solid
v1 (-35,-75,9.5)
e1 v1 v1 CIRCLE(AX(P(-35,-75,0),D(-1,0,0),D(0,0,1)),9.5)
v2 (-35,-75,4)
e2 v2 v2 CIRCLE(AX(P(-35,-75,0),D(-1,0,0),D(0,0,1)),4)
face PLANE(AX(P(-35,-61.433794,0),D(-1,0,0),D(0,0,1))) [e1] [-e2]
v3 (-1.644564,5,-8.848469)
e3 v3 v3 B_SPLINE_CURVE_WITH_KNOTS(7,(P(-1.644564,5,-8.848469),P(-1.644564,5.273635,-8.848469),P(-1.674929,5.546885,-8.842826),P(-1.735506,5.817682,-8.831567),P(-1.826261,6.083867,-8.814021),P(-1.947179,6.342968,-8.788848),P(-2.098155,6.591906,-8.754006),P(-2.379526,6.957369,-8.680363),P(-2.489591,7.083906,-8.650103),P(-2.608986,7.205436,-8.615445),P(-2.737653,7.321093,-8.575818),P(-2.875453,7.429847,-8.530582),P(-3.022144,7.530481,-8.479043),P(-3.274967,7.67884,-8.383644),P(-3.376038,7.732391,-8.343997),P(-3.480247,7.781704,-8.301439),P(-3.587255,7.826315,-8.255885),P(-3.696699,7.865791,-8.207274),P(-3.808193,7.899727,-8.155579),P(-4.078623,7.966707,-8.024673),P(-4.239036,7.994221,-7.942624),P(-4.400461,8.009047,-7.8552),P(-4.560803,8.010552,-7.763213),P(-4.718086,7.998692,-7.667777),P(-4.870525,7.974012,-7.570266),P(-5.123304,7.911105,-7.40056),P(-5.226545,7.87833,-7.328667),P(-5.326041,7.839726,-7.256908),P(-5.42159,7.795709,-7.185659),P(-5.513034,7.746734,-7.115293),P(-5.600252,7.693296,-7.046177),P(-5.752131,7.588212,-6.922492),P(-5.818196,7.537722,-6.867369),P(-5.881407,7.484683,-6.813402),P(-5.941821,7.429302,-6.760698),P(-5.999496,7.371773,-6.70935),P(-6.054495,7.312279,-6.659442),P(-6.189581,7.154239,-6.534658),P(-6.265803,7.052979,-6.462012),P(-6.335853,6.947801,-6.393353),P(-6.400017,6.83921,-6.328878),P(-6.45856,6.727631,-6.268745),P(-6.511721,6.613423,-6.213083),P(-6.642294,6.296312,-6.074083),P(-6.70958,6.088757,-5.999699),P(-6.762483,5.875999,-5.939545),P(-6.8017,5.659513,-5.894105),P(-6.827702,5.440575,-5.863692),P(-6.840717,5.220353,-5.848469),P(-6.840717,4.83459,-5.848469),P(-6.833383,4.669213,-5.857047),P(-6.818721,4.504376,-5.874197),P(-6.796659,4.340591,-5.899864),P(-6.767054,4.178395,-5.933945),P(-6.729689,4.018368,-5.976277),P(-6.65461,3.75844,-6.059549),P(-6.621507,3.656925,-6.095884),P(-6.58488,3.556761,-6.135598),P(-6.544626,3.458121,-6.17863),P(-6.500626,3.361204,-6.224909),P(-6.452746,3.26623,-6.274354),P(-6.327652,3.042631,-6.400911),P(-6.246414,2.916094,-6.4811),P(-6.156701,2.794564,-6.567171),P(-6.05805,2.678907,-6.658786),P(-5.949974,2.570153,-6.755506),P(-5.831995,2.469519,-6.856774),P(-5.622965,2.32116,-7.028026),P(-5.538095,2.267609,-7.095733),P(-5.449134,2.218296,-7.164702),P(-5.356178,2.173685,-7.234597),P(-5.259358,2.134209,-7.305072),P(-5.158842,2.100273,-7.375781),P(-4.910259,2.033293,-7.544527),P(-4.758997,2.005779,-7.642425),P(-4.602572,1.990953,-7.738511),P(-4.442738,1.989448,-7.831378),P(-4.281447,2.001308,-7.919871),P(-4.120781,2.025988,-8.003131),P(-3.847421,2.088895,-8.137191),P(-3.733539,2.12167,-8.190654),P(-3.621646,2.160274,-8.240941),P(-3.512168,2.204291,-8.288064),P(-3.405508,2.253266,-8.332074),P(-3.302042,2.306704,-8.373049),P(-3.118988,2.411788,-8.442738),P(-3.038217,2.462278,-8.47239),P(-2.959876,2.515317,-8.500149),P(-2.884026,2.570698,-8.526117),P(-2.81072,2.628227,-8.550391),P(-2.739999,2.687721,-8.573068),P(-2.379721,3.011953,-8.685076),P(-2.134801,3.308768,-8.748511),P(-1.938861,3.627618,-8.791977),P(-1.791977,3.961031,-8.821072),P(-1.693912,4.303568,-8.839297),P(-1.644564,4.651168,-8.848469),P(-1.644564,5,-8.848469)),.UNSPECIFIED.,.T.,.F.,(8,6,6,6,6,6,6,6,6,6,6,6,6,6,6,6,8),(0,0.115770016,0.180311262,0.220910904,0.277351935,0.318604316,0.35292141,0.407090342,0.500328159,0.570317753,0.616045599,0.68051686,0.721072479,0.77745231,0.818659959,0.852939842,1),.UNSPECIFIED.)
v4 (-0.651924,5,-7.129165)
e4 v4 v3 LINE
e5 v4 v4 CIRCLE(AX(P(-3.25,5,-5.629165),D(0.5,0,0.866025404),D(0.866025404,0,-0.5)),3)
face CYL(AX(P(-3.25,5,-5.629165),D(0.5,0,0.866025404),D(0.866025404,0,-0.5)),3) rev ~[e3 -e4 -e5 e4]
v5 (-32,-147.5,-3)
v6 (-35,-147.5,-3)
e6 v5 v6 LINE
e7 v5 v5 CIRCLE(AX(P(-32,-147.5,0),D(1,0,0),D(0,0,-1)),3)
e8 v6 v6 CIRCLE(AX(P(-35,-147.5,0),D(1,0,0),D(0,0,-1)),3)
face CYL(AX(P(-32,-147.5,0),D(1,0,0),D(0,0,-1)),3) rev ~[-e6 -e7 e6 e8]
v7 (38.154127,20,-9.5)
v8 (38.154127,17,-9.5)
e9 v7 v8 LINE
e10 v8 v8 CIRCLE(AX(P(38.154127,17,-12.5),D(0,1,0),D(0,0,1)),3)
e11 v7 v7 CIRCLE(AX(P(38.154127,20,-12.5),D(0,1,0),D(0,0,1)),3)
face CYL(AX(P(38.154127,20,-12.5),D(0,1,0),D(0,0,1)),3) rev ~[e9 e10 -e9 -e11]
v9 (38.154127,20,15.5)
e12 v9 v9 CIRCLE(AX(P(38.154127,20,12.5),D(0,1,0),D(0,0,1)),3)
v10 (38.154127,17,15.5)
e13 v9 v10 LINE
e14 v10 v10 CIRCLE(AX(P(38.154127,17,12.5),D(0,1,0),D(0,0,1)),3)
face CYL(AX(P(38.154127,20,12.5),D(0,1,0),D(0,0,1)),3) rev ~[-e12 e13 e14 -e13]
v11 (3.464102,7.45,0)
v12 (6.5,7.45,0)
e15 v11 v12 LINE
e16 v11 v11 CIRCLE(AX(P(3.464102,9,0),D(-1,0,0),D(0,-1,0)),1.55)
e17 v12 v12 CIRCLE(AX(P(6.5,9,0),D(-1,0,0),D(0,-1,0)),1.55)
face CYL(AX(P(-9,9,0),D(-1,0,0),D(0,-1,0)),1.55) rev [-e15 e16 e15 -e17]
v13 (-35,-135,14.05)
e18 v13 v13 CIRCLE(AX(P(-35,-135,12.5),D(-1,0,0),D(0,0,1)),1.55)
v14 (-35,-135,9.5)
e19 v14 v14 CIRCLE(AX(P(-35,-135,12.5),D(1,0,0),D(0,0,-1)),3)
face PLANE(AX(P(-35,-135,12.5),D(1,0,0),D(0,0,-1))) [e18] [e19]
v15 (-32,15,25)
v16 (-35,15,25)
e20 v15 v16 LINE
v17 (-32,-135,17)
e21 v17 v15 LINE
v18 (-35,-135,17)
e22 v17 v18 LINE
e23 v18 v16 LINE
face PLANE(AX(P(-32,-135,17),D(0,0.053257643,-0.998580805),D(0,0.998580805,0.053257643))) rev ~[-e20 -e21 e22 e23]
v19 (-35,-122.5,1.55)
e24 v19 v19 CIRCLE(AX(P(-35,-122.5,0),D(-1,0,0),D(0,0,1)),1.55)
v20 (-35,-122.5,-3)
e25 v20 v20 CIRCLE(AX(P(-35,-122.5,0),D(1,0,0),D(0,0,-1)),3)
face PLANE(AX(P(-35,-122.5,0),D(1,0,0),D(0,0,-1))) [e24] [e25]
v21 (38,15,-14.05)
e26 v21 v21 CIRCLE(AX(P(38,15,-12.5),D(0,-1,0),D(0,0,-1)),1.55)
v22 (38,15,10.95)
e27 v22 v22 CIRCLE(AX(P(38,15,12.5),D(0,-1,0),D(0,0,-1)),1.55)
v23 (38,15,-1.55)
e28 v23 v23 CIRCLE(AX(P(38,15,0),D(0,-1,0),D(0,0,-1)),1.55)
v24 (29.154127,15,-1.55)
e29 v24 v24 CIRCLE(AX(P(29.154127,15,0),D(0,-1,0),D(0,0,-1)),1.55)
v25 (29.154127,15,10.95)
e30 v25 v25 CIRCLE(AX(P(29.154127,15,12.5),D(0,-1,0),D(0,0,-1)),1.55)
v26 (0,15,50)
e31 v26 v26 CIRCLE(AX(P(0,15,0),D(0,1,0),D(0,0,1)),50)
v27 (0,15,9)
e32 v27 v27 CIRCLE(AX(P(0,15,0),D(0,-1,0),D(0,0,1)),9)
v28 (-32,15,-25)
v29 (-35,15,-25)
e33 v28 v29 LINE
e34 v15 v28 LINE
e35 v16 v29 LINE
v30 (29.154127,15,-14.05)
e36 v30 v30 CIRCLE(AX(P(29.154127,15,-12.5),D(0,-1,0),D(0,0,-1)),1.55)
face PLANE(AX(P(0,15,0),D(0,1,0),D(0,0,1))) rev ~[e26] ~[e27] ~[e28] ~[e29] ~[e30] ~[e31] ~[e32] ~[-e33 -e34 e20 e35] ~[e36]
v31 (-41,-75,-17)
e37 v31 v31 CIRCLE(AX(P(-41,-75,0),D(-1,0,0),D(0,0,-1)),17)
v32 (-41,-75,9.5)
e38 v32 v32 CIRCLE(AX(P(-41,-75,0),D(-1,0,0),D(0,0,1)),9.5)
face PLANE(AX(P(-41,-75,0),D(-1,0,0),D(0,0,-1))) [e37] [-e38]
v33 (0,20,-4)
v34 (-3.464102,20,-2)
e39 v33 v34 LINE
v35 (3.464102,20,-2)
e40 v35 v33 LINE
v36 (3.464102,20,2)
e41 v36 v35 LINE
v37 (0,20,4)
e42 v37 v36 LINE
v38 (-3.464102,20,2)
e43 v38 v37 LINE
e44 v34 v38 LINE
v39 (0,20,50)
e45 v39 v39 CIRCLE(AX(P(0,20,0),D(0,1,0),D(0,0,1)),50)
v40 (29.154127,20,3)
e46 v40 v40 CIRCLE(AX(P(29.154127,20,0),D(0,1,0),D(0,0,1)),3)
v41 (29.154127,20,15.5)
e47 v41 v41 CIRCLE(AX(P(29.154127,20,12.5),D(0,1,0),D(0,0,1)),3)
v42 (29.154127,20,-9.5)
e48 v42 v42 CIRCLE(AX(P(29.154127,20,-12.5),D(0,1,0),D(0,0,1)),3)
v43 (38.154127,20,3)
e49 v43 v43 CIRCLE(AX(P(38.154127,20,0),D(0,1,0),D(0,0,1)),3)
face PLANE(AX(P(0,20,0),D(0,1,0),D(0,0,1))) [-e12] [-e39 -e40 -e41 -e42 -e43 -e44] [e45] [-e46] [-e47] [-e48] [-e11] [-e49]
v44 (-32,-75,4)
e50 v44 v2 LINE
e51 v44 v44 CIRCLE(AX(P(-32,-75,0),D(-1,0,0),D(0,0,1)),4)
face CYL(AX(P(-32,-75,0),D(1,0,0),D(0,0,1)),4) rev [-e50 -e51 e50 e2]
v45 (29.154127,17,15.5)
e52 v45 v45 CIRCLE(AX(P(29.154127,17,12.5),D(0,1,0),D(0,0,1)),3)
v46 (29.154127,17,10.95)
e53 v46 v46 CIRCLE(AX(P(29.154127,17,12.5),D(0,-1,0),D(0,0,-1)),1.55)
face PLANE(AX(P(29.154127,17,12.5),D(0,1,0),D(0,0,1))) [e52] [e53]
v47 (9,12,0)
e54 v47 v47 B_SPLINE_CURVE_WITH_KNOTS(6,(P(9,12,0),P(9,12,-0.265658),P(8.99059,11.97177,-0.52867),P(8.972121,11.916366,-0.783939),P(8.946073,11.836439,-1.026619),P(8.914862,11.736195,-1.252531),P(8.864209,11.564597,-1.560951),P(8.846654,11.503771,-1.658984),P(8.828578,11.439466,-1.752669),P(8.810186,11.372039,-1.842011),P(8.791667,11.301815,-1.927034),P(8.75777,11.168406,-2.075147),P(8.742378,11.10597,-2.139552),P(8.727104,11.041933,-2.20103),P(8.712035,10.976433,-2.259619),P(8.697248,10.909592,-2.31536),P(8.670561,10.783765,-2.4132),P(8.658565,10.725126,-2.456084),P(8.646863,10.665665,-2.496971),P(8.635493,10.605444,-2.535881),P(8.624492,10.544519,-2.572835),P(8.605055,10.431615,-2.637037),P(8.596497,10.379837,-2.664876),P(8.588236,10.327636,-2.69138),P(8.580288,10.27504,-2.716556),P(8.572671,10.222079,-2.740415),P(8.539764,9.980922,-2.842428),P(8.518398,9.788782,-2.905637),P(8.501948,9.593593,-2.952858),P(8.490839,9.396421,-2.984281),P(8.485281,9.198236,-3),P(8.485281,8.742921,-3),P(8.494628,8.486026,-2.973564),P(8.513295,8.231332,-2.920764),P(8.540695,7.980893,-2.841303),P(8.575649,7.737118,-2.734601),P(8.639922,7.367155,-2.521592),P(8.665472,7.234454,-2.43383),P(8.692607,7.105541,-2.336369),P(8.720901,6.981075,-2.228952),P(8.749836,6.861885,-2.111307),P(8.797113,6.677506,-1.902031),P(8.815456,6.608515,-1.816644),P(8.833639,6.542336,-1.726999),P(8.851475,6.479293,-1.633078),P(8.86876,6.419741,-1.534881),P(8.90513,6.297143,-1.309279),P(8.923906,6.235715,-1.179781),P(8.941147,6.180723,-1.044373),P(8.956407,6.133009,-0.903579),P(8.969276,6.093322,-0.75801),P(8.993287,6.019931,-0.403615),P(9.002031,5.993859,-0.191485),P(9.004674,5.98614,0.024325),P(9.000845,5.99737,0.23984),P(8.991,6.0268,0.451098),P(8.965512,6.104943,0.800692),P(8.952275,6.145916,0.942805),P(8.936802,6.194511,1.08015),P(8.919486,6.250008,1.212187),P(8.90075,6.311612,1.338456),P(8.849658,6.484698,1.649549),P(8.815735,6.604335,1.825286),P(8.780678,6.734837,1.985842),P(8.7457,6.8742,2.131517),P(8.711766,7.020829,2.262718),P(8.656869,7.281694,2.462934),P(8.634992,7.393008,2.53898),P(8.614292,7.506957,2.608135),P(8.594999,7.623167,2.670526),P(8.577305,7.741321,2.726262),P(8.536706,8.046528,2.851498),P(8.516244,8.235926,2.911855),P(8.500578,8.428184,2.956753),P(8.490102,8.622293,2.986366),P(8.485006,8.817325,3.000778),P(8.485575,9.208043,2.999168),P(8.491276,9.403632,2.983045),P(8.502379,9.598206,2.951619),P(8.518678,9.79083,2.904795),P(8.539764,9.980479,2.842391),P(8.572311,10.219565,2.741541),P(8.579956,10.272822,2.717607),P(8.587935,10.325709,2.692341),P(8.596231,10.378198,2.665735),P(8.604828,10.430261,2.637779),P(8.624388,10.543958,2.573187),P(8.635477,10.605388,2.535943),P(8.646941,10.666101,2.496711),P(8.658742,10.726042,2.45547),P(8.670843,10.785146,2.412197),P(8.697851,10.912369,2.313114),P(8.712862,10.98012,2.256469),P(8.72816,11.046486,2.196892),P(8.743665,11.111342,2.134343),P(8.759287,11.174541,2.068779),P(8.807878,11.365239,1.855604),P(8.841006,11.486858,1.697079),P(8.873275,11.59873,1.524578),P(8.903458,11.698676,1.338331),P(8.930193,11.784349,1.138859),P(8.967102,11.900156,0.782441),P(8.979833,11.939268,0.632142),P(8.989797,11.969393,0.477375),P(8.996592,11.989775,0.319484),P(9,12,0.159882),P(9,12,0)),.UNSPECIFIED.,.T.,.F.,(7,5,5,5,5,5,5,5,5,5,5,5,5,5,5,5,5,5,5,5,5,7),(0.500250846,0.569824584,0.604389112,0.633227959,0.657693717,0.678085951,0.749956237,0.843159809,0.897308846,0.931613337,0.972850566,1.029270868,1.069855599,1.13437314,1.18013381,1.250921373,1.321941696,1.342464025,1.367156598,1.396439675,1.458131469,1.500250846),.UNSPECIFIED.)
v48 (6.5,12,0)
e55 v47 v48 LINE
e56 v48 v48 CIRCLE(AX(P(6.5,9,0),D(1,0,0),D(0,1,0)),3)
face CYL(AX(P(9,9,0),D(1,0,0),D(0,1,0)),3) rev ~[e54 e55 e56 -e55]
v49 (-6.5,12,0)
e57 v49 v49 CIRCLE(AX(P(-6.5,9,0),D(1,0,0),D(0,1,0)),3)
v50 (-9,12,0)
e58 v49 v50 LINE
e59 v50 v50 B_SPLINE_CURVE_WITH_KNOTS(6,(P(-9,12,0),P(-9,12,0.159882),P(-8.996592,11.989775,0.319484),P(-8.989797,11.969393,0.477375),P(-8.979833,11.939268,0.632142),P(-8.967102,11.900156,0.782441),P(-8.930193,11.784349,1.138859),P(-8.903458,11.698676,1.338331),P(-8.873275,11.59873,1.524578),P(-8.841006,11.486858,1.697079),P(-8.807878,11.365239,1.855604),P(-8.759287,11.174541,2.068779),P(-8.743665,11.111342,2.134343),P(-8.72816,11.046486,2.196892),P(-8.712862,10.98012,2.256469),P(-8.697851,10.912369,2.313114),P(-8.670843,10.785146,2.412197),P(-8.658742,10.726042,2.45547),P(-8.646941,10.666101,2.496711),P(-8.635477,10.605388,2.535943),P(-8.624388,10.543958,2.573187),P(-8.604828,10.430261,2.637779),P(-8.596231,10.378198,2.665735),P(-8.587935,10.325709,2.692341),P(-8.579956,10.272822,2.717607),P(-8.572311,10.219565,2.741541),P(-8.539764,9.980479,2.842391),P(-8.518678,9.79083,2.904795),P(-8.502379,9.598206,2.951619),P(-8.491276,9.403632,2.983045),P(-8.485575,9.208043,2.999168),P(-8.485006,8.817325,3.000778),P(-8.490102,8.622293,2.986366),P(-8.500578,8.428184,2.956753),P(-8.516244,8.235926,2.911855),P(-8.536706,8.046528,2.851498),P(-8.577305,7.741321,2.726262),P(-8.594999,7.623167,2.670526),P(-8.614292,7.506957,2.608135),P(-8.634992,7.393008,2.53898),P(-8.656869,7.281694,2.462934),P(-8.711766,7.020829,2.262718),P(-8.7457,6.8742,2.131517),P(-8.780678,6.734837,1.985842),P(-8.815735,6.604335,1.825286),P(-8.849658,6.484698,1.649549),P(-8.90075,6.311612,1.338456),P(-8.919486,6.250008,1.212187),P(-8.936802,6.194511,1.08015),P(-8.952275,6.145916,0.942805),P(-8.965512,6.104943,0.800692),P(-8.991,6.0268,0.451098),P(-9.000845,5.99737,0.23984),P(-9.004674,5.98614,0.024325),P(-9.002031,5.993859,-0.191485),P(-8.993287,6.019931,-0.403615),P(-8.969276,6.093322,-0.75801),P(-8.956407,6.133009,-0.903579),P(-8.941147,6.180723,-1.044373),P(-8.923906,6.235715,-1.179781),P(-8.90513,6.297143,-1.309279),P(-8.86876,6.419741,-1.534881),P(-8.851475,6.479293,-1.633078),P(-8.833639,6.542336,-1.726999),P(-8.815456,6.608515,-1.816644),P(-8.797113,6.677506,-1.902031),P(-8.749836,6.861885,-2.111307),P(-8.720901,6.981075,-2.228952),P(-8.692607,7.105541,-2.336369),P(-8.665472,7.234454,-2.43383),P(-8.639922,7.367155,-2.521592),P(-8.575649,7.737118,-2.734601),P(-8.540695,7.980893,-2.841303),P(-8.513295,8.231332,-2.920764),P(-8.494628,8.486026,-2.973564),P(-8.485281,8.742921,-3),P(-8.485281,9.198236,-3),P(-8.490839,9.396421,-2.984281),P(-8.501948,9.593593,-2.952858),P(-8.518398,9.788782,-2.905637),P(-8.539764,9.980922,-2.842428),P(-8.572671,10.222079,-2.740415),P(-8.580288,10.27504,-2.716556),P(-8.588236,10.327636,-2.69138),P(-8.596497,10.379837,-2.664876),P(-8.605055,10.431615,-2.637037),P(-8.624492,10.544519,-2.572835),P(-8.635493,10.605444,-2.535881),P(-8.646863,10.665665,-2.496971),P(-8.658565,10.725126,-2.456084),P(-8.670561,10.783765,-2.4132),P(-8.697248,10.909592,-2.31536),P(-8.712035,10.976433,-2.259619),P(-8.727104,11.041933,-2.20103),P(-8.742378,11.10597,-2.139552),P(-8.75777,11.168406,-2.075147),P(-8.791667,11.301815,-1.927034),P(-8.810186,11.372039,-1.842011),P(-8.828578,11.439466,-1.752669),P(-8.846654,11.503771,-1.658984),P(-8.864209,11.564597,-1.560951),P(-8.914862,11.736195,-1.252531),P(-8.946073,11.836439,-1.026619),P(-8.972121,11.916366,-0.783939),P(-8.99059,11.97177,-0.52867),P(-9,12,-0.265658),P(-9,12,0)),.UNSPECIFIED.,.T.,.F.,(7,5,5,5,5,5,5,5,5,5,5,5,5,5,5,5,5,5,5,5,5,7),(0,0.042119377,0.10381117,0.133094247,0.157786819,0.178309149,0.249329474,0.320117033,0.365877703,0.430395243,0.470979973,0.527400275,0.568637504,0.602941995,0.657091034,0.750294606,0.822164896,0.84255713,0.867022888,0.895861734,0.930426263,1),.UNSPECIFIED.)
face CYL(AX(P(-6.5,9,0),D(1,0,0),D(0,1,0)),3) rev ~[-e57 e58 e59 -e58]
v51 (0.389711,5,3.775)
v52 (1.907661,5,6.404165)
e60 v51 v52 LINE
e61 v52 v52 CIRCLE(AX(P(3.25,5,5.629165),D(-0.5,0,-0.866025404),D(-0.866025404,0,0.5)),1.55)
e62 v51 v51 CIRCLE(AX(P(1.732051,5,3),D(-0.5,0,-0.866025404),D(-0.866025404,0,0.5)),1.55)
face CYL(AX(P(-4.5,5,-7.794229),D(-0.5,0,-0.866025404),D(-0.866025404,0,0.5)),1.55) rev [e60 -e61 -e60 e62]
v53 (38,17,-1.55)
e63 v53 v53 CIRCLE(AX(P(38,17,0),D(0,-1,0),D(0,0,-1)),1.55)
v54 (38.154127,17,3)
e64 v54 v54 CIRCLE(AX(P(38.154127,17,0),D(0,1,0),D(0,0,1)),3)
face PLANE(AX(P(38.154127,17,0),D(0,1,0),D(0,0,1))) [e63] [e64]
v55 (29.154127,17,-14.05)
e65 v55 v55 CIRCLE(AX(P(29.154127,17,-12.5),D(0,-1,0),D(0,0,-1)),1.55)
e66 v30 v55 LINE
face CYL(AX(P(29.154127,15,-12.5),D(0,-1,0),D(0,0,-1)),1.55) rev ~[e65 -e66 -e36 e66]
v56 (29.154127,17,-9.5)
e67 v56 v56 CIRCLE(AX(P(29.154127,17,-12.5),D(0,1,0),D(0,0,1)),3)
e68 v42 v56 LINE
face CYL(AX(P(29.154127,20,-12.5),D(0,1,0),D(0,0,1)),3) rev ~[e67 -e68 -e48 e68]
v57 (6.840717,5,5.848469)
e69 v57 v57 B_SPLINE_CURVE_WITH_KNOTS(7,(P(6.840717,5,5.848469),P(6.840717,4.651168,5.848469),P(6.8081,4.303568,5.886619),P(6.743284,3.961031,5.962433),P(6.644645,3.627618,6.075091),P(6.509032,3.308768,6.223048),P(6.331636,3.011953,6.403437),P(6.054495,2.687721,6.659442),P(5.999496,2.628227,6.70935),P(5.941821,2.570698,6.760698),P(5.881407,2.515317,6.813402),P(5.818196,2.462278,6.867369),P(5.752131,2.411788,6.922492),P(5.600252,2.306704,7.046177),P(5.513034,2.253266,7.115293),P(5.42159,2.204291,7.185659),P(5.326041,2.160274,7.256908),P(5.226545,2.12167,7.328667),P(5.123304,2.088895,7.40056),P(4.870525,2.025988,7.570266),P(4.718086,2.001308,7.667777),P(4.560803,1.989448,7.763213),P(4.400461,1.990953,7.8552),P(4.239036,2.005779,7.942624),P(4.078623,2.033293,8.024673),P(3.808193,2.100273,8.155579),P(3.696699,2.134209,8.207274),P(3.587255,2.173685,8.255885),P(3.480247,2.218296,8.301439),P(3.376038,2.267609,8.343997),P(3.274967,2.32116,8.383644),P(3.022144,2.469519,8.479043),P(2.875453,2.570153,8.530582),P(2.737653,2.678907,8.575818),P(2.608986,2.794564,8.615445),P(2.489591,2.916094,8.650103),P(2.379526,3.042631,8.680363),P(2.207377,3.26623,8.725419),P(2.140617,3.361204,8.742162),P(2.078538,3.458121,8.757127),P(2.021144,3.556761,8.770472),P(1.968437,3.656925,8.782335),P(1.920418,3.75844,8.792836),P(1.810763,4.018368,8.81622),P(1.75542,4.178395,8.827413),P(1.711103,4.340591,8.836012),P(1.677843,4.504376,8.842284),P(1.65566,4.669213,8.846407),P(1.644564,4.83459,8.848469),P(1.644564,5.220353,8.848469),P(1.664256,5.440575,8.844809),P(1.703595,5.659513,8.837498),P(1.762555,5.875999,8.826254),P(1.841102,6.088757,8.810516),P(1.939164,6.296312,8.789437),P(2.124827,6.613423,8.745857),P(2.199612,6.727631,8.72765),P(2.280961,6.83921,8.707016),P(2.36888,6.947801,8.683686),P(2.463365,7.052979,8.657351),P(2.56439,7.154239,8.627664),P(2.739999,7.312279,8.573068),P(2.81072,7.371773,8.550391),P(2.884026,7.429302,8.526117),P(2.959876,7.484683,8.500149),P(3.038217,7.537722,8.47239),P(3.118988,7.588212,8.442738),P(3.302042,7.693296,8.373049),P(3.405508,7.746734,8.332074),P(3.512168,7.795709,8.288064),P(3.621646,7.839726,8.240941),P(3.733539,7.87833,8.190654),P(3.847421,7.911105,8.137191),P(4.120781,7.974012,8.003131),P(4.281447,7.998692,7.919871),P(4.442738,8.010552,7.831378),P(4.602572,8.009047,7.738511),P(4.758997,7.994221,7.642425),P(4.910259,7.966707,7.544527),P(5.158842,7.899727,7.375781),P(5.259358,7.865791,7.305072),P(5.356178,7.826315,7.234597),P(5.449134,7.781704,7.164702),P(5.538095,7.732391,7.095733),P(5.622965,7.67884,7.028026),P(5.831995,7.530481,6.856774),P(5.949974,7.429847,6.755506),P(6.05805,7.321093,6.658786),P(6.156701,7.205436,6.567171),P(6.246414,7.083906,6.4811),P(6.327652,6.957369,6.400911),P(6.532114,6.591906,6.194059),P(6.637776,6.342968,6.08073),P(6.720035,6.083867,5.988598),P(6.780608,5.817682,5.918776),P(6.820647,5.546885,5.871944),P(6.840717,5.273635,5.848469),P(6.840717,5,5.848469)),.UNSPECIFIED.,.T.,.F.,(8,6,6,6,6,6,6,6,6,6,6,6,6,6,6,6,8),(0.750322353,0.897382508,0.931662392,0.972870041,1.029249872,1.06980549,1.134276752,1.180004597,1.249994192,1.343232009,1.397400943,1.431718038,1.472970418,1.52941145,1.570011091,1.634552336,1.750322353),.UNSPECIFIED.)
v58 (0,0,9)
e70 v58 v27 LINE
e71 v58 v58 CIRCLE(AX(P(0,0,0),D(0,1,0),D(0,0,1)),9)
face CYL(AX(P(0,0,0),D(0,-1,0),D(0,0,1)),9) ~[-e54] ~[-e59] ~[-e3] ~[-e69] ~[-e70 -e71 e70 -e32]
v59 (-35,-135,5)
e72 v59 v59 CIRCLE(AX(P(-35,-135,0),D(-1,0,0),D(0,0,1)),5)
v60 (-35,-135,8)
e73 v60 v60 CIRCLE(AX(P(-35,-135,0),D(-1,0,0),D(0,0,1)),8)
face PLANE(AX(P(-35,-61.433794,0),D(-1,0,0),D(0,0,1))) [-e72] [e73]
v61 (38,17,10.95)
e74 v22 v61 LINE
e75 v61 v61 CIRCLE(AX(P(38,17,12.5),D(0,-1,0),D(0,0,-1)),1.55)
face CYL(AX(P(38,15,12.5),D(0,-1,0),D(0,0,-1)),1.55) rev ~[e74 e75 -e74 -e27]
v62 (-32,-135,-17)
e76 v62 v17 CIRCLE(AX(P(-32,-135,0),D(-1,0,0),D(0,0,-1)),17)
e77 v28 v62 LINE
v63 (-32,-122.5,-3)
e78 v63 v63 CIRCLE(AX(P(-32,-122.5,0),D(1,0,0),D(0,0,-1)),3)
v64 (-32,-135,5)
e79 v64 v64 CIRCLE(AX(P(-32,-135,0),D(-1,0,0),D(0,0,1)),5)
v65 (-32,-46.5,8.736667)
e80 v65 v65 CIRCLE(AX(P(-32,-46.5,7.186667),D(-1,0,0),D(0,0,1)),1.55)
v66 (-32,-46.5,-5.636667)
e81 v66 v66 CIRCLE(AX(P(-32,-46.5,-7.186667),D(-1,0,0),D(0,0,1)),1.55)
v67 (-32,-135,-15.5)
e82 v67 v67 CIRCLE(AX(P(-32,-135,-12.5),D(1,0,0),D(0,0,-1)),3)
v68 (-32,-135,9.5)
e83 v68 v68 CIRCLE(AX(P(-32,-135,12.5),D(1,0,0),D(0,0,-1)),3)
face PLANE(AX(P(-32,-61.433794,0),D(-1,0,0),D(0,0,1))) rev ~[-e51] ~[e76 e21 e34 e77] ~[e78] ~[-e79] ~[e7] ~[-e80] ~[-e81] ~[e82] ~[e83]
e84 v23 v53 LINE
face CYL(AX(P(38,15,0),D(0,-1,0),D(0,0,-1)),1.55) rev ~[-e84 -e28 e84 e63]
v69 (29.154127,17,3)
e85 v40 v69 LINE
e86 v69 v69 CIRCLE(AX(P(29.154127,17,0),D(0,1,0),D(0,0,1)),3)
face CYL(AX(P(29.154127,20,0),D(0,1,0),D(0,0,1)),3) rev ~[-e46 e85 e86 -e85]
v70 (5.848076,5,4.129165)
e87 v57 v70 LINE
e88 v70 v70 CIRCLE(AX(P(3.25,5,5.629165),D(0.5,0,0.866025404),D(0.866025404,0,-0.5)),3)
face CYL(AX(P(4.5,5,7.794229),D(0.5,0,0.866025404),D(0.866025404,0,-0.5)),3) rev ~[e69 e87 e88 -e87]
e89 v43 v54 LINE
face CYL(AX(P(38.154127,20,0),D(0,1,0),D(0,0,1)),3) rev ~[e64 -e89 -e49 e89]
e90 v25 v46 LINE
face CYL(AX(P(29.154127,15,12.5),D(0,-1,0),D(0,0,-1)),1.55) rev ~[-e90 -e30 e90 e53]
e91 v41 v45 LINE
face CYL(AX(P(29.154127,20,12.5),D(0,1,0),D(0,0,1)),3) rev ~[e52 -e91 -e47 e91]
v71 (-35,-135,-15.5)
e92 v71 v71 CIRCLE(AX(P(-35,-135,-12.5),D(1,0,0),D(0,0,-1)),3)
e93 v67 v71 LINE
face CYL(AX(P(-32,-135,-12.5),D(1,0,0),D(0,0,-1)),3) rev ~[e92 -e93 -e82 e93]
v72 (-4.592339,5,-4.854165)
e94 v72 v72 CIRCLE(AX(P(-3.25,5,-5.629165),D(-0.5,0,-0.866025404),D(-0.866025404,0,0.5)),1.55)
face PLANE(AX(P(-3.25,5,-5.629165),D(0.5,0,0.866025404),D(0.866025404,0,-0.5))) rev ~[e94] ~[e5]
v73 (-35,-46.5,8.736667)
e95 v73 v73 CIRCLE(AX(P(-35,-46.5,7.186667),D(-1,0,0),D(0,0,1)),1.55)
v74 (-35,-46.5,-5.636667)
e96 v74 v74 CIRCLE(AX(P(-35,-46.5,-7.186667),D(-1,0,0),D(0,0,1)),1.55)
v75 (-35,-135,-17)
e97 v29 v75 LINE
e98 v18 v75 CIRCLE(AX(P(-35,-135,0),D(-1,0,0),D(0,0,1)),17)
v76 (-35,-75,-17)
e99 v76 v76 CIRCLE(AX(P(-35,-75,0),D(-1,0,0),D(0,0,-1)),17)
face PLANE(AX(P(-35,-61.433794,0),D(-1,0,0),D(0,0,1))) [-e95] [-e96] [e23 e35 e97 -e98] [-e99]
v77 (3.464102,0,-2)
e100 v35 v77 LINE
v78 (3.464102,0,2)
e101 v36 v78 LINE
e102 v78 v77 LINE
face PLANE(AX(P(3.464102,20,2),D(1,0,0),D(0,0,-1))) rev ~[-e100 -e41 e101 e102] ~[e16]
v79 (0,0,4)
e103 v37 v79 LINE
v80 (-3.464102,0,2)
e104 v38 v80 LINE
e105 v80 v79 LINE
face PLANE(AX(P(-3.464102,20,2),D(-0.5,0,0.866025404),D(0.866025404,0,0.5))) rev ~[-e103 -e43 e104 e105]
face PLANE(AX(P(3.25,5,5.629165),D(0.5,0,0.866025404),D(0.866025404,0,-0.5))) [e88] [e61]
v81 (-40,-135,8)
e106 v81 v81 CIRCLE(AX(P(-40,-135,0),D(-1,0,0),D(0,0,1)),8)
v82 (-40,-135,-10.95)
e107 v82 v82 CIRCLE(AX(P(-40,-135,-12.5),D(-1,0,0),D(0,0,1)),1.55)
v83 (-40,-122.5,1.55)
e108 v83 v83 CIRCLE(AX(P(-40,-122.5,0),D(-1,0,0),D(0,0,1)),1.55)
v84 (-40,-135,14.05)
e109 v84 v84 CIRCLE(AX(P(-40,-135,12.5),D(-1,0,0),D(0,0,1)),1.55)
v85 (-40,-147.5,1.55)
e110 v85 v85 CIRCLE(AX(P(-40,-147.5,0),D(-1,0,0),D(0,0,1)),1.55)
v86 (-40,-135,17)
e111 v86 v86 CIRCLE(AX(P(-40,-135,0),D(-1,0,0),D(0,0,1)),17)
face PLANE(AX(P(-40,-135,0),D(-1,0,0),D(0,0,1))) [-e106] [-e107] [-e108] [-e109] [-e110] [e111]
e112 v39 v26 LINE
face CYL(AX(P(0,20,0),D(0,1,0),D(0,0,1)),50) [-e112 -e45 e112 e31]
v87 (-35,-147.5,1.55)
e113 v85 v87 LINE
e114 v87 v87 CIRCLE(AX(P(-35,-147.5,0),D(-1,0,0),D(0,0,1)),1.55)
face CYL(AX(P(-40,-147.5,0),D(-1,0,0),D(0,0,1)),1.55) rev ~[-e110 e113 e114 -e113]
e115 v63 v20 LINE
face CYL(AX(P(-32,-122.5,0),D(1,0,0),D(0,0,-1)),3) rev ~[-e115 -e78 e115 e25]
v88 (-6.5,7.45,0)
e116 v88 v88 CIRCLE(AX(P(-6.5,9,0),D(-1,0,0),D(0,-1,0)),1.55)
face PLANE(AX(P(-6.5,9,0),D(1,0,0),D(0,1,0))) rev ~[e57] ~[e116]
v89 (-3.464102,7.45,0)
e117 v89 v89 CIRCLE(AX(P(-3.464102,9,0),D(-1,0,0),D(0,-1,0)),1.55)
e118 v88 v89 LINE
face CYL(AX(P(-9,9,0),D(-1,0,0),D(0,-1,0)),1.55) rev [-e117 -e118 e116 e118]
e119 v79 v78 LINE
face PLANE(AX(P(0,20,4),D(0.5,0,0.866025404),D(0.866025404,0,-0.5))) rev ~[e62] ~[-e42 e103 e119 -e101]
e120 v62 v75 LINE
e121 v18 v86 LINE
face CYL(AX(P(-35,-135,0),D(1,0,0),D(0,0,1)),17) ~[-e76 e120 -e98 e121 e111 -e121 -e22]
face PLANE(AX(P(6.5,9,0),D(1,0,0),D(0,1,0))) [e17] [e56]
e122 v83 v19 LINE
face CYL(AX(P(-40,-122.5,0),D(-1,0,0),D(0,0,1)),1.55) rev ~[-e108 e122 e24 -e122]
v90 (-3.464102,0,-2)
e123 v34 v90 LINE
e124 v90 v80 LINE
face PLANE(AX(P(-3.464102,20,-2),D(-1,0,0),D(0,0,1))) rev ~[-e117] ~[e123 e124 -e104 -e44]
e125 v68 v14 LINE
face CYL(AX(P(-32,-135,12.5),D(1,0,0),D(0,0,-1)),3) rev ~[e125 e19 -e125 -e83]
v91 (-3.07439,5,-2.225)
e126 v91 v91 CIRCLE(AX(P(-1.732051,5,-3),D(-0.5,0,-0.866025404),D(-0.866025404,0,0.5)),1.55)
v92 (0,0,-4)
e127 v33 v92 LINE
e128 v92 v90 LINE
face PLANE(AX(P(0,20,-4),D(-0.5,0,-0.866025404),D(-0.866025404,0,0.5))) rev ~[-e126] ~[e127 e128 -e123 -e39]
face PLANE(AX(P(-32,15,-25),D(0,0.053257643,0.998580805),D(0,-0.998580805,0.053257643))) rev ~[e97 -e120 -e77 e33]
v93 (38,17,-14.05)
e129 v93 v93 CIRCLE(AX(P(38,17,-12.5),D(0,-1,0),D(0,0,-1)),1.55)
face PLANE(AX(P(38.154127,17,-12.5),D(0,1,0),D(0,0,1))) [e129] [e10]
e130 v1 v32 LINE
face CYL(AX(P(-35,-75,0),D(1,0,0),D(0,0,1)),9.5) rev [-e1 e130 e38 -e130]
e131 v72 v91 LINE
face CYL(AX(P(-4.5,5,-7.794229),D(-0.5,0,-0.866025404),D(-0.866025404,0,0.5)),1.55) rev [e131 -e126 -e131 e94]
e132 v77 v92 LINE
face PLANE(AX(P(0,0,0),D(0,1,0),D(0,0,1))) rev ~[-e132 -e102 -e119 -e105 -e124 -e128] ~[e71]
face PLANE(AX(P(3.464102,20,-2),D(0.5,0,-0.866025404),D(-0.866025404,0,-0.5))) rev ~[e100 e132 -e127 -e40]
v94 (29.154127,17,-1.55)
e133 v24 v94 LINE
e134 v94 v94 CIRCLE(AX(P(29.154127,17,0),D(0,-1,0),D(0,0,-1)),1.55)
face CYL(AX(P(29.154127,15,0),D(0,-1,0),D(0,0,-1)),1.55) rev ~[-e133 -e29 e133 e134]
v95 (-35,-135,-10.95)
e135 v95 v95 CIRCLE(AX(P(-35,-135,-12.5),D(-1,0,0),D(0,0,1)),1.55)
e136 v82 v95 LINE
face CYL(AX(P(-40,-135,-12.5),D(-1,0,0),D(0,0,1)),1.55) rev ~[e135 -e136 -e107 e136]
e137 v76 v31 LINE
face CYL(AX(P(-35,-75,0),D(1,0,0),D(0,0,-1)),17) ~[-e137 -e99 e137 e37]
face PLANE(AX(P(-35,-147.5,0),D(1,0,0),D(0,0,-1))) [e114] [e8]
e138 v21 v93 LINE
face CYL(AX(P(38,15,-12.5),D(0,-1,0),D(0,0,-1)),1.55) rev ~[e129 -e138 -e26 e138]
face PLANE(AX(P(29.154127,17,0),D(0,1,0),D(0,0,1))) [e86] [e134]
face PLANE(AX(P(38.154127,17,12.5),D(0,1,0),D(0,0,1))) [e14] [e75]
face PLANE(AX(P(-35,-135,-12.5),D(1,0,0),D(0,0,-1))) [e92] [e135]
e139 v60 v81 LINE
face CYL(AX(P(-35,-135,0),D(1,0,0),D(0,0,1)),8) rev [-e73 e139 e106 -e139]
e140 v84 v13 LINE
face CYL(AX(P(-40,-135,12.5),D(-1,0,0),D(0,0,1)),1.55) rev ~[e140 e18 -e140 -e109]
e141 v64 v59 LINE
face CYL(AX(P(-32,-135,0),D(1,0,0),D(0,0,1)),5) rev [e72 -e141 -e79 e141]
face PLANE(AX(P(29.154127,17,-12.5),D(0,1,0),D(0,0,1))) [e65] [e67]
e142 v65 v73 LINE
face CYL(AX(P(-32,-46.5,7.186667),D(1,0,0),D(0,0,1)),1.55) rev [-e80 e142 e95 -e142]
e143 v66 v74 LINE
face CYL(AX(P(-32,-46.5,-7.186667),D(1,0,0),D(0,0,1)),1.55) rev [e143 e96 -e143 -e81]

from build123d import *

# Parameters (mm, degrees)
SKETCH2_R               = 9
BOSS_EXTRUDE1_DEPTH     = 20
CUT_EXTRUDE1_DEPTH      = 20
SKETCH4_R               = 50
SKETCH4_R_2             = 4.5
BOSS_EXTRUDE3_DEPTH     = 5
CUT_EXTRUDE2_DEPTH      = 9
CUT_EXTRUDE2_DEPTH_BACK = 9
SKETCH11_R              = 1.55
CUT_EXTRUDE9_DEPTH      = 9
CUT_EXTRUDE9_DEPTH_BACK = 9
SKETCH15_R              = 1.55
SKETCH28_R              = 5
SKETCH28_R_2            = 4
SKETCH28_R_3            = 1.55
BOSS_EXTRUDE10_DEPTH    = 3
SKETCH25_R              = 17
SKETCH25_R_2            = 8
BOSS_EXTRUDE8_DEPTH     = 5
SKETCH26_R              = 1.55
CUT_EXTRUDE14_DEPTH     = 8
SKETCH27_R              = 3
CUT_EXTRUDE15_DEPTH     = 3
SKETCH16_R              = 1.55
CUT_EXTRUDE17_DEPTH     = 5
SKETCH29_R              = 3
CUT_EXTRUDE18_DEPTH     = 3
SKETCH30_R              = 17
SKETCH30_R_2            = 9.5
BOSS_EXTRUDE11_DEPTH    = 6
CUT_EXTRUDE23_START     = 9
SKETCH31_R              = 3
CUT_EXTRUDE23_DEPTH     = 2.5
CUT_EXTRUDE24_START     = -6.5
SKETCH31_3_R            = 3
CUT_EXTRUDE24_DEPTH     = 2.5
CUT_EXTRUDE25_START     = 9
SKETCH33_R              = 3
CUT_EXTRUDE25_DEPTH     = 2.5
CUT_EXTRUDE26_START     = -6.5
SKETCH33_2_R            = 3
CUT_EXTRUDE26_DEPTH     = 2.5


with BuildPart() as part:
    # Sketch2 → Boss-Extrude1 (new body)
    with BuildSketch(Plane(origin=(0, 0, 0), x_dir=(1, 0, 0), z_dir=(0, 1, 0))):
        Circle(SKETCH2_R)
    extrude(amount=BOSS_EXTRUDE1_DEPTH)

    # Sketch3 → Cut-Extrude1 (cut)
    with BuildSketch(Plane(origin=(0, 20, 0), x_dir=(1, 0, 0), z_dir=(0, 1, 0))):
        Polygon((0, 4), (-3.464101615, 2), (-3.464101615, -2), (0, -4), (3.464101615, -2), (3.464101615, 2), align=None)
    extrude(amount=-CUT_EXTRUDE1_DEPTH, mode=Mode.SUBTRACT)

    # Sketch4 → Boss-Extrude3 (add)
    with BuildSketch(Plane(origin=(0, 20, 0), x_dir=(1, 0, 0), z_dir=(0, 1, 0))):
        Circle(SKETCH4_R)
        Circle(SKETCH4_R_2, mode=Mode.SUBTRACT)
    extrude(amount=-BOSS_EXTRUDE3_DEPTH)

    # Sketch11 → Cut-Extrude2 (cut, two sides: drawn at the far end of the back side and taken through both)
    with BuildSketch(Plane(origin=(0, 0, 0), x_dir=(0.8660254037844384, 0, -0.5000000000000006), z_dir=(0.5000000000000006, 0, 0.8660254037844384)).offset(-CUT_EXTRUDE2_DEPTH_BACK)):
        with Locations((0, 5)):
            Circle(SKETCH11_R)
    extrude(amount=CUT_EXTRUDE2_DEPTH + CUT_EXTRUDE2_DEPTH_BACK, mode=Mode.SUBTRACT)

    # Sketch15 → Cut-Extrude9 (cut, two sides: drawn at the far end of the back side and taken through both)
    with BuildSketch(Plane(origin=(0, 0, 0), x_dir=(0, 0, -1), z_dir=(1, 0, 0)).offset(-CUT_EXTRUDE9_DEPTH_BACK)):
        with Locations((0, 9)):
            Circle(SKETCH15_R)
    extrude(amount=CUT_EXTRUDE9_DEPTH + CUT_EXTRUDE9_DEPTH_BACK, mode=Mode.SUBTRACT)

    # Sketch28 → Boss-Extrude10 (add)
    with BuildSketch(Plane.ZY.offset(32)):
        with BuildLine():
            Line((25, 15), (-25, 15))
            Line((-25, 15), (-17, -135))
            ThreePointArc((-17, -135), (0, -152), (17, -135))
            Line((17, -135), (25, 15))
        make_face()
        with Locations((0, -135)):
            Circle(SKETCH28_R, mode=Mode.SUBTRACT)
        with Locations((0, -75)):
            Circle(SKETCH28_R_2, mode=Mode.SUBTRACT)
        with Locations((7.186666667, -46.5)):
            Circle(SKETCH28_R_3, mode=Mode.SUBTRACT)
        with Locations((-7.186666667, -46.5)):
            Circle(SKETCH28_R_3, mode=Mode.SUBTRACT)
    extrude(amount=BOSS_EXTRUDE10_DEPTH)

    # Sketch25 → Boss-Extrude8 (add)
    with BuildSketch(Plane.ZY.offset(35)):
        with Locations((0, -135)):
            Circle(SKETCH25_R)
        with Locations((0, -135)):
            Circle(SKETCH25_R_2, mode=Mode.SUBTRACT)
    extrude(amount=BOSS_EXTRUDE8_DEPTH)

    # Sketch26 → Cut-Extrude14 (cut)
    with BuildSketch(Plane.ZY.offset(40)):
        with Locations((-12.5, -135)):
            Circle(SKETCH26_R)
        with Locations((0, -122.5)):
            Circle(SKETCH26_R)
        with Locations((12.5, -135)):
            Circle(SKETCH26_R)
        with Locations((0, -147.5)):
            Circle(SKETCH26_R)
    extrude(amount=-CUT_EXTRUDE14_DEPTH, mode=Mode.SUBTRACT)

    # Sketch27 → Cut-Extrude15 (cut)
    with BuildSketch(Plane(origin=(-32, 0, 0), x_dir=(0, 0, -1), z_dir=(1, 0, 0))):
        with Locations((-12.5, -135)):
            Circle(SKETCH27_R)
        with Locations((0, -122.5)):
            Circle(SKETCH27_R)
        with Locations((12.5, -135)):
            Circle(SKETCH27_R)
        with Locations((0, -147.5)):
            Circle(SKETCH27_R)
    extrude(amount=-CUT_EXTRUDE15_DEPTH, mode=Mode.SUBTRACT)

    # Sketch16 → Cut-Extrude17 (cut)
    with BuildSketch(Plane.XZ.offset(-15)):
        with Locations((29.154127235, 12.5)):
            Circle(SKETCH16_R)
        with Locations((29.154127235, 0)):
            Circle(SKETCH16_R)
        with Locations((29.154127235, -12.5)):
            Circle(SKETCH16_R)
        with Locations((38, -12.5)):
            Circle(SKETCH16_R)
        with Locations((38, 0)):
            Circle(SKETCH16_R)
        with Locations((38, 12.5)):
            Circle(SKETCH16_R)
    extrude(amount=-CUT_EXTRUDE17_DEPTH, mode=Mode.SUBTRACT)

    # Sketch29 → Cut-Extrude18 (cut)
    with BuildSketch(Plane(origin=(0, 20, 0), x_dir=(1, 0, 0), z_dir=(0, 1, 0))):
        with Locations((29.154127235, 12.5)):
            Circle(SKETCH29_R)
        with Locations((38.154127235, 12.5)):
            Circle(SKETCH29_R)
        with Locations((38.154127235, 0)):
            Circle(SKETCH29_R)
        with Locations((38.154127235, -12.5)):
            Circle(SKETCH29_R)
        with Locations((29.154127235, 0)):
            Circle(SKETCH29_R)
        with Locations((29.154127235, -12.5)):
            Circle(SKETCH29_R)
    extrude(amount=-CUT_EXTRUDE18_DEPTH, mode=Mode.SUBTRACT)

    # Sketch30 → Boss-Extrude11 (add)
    with BuildSketch(Plane.ZY.offset(35)):
        with Locations((0, -75)):
            Circle(SKETCH30_R)
        with Locations((0, -75)):
            Circle(SKETCH30_R_2, mode=Mode.SUBTRACT)
    extrude(amount=BOSS_EXTRUDE11_DEPTH)

    # Sketch31 → Cut-Extrude23 (cut)
    with BuildSketch(Plane(origin=(0, 0, 0), x_dir=(0.8660254037844384, 0, -0.5000000000000006), z_dir=(0.5000000000000006, 0, 0.8660254037844384)).offset(CUT_EXTRUDE23_START)):
        with Locations((0, 5)):
            Circle(SKETCH31_R)
    extrude(amount=-CUT_EXTRUDE23_DEPTH, mode=Mode.SUBTRACT)

    # Sketch31<3> → Cut-Extrude24 (cut)
    with BuildSketch(Plane(origin=(0, 0, 0), x_dir=(0.8660254037844384, 0, -0.5000000000000006), z_dir=(0.5000000000000006, 0, 0.8660254037844384)).offset(CUT_EXTRUDE24_START)):
        with Locations((0, 5)):
            Circle(SKETCH31_3_R)
    extrude(amount=-CUT_EXTRUDE24_DEPTH, mode=Mode.SUBTRACT)

    # Sketch33 → Cut-Extrude25 (cut)
    with BuildSketch(Plane(origin=(0, 0, 0), x_dir=(0, 0, -1), z_dir=(1, 0, 0)).offset(CUT_EXTRUDE25_START)):
        with Locations((0, 9)):
            Circle(SKETCH33_R)
    extrude(amount=-CUT_EXTRUDE25_DEPTH, mode=Mode.SUBTRACT)

    # Sketch33<2> → Cut-Extrude26 (cut)
    with BuildSketch(Plane(origin=(0, 0, 0), x_dir=(0, 0, -1), z_dir=(1, 0, 0)).offset(CUT_EXTRUDE26_START)):
        with Locations((0, 9)):
            Circle(SKETCH33_2_R)
    extrude(amount=-CUT_EXTRUDE26_DEPTH, mode=Mode.SUBTRACT)


solid = part.part
